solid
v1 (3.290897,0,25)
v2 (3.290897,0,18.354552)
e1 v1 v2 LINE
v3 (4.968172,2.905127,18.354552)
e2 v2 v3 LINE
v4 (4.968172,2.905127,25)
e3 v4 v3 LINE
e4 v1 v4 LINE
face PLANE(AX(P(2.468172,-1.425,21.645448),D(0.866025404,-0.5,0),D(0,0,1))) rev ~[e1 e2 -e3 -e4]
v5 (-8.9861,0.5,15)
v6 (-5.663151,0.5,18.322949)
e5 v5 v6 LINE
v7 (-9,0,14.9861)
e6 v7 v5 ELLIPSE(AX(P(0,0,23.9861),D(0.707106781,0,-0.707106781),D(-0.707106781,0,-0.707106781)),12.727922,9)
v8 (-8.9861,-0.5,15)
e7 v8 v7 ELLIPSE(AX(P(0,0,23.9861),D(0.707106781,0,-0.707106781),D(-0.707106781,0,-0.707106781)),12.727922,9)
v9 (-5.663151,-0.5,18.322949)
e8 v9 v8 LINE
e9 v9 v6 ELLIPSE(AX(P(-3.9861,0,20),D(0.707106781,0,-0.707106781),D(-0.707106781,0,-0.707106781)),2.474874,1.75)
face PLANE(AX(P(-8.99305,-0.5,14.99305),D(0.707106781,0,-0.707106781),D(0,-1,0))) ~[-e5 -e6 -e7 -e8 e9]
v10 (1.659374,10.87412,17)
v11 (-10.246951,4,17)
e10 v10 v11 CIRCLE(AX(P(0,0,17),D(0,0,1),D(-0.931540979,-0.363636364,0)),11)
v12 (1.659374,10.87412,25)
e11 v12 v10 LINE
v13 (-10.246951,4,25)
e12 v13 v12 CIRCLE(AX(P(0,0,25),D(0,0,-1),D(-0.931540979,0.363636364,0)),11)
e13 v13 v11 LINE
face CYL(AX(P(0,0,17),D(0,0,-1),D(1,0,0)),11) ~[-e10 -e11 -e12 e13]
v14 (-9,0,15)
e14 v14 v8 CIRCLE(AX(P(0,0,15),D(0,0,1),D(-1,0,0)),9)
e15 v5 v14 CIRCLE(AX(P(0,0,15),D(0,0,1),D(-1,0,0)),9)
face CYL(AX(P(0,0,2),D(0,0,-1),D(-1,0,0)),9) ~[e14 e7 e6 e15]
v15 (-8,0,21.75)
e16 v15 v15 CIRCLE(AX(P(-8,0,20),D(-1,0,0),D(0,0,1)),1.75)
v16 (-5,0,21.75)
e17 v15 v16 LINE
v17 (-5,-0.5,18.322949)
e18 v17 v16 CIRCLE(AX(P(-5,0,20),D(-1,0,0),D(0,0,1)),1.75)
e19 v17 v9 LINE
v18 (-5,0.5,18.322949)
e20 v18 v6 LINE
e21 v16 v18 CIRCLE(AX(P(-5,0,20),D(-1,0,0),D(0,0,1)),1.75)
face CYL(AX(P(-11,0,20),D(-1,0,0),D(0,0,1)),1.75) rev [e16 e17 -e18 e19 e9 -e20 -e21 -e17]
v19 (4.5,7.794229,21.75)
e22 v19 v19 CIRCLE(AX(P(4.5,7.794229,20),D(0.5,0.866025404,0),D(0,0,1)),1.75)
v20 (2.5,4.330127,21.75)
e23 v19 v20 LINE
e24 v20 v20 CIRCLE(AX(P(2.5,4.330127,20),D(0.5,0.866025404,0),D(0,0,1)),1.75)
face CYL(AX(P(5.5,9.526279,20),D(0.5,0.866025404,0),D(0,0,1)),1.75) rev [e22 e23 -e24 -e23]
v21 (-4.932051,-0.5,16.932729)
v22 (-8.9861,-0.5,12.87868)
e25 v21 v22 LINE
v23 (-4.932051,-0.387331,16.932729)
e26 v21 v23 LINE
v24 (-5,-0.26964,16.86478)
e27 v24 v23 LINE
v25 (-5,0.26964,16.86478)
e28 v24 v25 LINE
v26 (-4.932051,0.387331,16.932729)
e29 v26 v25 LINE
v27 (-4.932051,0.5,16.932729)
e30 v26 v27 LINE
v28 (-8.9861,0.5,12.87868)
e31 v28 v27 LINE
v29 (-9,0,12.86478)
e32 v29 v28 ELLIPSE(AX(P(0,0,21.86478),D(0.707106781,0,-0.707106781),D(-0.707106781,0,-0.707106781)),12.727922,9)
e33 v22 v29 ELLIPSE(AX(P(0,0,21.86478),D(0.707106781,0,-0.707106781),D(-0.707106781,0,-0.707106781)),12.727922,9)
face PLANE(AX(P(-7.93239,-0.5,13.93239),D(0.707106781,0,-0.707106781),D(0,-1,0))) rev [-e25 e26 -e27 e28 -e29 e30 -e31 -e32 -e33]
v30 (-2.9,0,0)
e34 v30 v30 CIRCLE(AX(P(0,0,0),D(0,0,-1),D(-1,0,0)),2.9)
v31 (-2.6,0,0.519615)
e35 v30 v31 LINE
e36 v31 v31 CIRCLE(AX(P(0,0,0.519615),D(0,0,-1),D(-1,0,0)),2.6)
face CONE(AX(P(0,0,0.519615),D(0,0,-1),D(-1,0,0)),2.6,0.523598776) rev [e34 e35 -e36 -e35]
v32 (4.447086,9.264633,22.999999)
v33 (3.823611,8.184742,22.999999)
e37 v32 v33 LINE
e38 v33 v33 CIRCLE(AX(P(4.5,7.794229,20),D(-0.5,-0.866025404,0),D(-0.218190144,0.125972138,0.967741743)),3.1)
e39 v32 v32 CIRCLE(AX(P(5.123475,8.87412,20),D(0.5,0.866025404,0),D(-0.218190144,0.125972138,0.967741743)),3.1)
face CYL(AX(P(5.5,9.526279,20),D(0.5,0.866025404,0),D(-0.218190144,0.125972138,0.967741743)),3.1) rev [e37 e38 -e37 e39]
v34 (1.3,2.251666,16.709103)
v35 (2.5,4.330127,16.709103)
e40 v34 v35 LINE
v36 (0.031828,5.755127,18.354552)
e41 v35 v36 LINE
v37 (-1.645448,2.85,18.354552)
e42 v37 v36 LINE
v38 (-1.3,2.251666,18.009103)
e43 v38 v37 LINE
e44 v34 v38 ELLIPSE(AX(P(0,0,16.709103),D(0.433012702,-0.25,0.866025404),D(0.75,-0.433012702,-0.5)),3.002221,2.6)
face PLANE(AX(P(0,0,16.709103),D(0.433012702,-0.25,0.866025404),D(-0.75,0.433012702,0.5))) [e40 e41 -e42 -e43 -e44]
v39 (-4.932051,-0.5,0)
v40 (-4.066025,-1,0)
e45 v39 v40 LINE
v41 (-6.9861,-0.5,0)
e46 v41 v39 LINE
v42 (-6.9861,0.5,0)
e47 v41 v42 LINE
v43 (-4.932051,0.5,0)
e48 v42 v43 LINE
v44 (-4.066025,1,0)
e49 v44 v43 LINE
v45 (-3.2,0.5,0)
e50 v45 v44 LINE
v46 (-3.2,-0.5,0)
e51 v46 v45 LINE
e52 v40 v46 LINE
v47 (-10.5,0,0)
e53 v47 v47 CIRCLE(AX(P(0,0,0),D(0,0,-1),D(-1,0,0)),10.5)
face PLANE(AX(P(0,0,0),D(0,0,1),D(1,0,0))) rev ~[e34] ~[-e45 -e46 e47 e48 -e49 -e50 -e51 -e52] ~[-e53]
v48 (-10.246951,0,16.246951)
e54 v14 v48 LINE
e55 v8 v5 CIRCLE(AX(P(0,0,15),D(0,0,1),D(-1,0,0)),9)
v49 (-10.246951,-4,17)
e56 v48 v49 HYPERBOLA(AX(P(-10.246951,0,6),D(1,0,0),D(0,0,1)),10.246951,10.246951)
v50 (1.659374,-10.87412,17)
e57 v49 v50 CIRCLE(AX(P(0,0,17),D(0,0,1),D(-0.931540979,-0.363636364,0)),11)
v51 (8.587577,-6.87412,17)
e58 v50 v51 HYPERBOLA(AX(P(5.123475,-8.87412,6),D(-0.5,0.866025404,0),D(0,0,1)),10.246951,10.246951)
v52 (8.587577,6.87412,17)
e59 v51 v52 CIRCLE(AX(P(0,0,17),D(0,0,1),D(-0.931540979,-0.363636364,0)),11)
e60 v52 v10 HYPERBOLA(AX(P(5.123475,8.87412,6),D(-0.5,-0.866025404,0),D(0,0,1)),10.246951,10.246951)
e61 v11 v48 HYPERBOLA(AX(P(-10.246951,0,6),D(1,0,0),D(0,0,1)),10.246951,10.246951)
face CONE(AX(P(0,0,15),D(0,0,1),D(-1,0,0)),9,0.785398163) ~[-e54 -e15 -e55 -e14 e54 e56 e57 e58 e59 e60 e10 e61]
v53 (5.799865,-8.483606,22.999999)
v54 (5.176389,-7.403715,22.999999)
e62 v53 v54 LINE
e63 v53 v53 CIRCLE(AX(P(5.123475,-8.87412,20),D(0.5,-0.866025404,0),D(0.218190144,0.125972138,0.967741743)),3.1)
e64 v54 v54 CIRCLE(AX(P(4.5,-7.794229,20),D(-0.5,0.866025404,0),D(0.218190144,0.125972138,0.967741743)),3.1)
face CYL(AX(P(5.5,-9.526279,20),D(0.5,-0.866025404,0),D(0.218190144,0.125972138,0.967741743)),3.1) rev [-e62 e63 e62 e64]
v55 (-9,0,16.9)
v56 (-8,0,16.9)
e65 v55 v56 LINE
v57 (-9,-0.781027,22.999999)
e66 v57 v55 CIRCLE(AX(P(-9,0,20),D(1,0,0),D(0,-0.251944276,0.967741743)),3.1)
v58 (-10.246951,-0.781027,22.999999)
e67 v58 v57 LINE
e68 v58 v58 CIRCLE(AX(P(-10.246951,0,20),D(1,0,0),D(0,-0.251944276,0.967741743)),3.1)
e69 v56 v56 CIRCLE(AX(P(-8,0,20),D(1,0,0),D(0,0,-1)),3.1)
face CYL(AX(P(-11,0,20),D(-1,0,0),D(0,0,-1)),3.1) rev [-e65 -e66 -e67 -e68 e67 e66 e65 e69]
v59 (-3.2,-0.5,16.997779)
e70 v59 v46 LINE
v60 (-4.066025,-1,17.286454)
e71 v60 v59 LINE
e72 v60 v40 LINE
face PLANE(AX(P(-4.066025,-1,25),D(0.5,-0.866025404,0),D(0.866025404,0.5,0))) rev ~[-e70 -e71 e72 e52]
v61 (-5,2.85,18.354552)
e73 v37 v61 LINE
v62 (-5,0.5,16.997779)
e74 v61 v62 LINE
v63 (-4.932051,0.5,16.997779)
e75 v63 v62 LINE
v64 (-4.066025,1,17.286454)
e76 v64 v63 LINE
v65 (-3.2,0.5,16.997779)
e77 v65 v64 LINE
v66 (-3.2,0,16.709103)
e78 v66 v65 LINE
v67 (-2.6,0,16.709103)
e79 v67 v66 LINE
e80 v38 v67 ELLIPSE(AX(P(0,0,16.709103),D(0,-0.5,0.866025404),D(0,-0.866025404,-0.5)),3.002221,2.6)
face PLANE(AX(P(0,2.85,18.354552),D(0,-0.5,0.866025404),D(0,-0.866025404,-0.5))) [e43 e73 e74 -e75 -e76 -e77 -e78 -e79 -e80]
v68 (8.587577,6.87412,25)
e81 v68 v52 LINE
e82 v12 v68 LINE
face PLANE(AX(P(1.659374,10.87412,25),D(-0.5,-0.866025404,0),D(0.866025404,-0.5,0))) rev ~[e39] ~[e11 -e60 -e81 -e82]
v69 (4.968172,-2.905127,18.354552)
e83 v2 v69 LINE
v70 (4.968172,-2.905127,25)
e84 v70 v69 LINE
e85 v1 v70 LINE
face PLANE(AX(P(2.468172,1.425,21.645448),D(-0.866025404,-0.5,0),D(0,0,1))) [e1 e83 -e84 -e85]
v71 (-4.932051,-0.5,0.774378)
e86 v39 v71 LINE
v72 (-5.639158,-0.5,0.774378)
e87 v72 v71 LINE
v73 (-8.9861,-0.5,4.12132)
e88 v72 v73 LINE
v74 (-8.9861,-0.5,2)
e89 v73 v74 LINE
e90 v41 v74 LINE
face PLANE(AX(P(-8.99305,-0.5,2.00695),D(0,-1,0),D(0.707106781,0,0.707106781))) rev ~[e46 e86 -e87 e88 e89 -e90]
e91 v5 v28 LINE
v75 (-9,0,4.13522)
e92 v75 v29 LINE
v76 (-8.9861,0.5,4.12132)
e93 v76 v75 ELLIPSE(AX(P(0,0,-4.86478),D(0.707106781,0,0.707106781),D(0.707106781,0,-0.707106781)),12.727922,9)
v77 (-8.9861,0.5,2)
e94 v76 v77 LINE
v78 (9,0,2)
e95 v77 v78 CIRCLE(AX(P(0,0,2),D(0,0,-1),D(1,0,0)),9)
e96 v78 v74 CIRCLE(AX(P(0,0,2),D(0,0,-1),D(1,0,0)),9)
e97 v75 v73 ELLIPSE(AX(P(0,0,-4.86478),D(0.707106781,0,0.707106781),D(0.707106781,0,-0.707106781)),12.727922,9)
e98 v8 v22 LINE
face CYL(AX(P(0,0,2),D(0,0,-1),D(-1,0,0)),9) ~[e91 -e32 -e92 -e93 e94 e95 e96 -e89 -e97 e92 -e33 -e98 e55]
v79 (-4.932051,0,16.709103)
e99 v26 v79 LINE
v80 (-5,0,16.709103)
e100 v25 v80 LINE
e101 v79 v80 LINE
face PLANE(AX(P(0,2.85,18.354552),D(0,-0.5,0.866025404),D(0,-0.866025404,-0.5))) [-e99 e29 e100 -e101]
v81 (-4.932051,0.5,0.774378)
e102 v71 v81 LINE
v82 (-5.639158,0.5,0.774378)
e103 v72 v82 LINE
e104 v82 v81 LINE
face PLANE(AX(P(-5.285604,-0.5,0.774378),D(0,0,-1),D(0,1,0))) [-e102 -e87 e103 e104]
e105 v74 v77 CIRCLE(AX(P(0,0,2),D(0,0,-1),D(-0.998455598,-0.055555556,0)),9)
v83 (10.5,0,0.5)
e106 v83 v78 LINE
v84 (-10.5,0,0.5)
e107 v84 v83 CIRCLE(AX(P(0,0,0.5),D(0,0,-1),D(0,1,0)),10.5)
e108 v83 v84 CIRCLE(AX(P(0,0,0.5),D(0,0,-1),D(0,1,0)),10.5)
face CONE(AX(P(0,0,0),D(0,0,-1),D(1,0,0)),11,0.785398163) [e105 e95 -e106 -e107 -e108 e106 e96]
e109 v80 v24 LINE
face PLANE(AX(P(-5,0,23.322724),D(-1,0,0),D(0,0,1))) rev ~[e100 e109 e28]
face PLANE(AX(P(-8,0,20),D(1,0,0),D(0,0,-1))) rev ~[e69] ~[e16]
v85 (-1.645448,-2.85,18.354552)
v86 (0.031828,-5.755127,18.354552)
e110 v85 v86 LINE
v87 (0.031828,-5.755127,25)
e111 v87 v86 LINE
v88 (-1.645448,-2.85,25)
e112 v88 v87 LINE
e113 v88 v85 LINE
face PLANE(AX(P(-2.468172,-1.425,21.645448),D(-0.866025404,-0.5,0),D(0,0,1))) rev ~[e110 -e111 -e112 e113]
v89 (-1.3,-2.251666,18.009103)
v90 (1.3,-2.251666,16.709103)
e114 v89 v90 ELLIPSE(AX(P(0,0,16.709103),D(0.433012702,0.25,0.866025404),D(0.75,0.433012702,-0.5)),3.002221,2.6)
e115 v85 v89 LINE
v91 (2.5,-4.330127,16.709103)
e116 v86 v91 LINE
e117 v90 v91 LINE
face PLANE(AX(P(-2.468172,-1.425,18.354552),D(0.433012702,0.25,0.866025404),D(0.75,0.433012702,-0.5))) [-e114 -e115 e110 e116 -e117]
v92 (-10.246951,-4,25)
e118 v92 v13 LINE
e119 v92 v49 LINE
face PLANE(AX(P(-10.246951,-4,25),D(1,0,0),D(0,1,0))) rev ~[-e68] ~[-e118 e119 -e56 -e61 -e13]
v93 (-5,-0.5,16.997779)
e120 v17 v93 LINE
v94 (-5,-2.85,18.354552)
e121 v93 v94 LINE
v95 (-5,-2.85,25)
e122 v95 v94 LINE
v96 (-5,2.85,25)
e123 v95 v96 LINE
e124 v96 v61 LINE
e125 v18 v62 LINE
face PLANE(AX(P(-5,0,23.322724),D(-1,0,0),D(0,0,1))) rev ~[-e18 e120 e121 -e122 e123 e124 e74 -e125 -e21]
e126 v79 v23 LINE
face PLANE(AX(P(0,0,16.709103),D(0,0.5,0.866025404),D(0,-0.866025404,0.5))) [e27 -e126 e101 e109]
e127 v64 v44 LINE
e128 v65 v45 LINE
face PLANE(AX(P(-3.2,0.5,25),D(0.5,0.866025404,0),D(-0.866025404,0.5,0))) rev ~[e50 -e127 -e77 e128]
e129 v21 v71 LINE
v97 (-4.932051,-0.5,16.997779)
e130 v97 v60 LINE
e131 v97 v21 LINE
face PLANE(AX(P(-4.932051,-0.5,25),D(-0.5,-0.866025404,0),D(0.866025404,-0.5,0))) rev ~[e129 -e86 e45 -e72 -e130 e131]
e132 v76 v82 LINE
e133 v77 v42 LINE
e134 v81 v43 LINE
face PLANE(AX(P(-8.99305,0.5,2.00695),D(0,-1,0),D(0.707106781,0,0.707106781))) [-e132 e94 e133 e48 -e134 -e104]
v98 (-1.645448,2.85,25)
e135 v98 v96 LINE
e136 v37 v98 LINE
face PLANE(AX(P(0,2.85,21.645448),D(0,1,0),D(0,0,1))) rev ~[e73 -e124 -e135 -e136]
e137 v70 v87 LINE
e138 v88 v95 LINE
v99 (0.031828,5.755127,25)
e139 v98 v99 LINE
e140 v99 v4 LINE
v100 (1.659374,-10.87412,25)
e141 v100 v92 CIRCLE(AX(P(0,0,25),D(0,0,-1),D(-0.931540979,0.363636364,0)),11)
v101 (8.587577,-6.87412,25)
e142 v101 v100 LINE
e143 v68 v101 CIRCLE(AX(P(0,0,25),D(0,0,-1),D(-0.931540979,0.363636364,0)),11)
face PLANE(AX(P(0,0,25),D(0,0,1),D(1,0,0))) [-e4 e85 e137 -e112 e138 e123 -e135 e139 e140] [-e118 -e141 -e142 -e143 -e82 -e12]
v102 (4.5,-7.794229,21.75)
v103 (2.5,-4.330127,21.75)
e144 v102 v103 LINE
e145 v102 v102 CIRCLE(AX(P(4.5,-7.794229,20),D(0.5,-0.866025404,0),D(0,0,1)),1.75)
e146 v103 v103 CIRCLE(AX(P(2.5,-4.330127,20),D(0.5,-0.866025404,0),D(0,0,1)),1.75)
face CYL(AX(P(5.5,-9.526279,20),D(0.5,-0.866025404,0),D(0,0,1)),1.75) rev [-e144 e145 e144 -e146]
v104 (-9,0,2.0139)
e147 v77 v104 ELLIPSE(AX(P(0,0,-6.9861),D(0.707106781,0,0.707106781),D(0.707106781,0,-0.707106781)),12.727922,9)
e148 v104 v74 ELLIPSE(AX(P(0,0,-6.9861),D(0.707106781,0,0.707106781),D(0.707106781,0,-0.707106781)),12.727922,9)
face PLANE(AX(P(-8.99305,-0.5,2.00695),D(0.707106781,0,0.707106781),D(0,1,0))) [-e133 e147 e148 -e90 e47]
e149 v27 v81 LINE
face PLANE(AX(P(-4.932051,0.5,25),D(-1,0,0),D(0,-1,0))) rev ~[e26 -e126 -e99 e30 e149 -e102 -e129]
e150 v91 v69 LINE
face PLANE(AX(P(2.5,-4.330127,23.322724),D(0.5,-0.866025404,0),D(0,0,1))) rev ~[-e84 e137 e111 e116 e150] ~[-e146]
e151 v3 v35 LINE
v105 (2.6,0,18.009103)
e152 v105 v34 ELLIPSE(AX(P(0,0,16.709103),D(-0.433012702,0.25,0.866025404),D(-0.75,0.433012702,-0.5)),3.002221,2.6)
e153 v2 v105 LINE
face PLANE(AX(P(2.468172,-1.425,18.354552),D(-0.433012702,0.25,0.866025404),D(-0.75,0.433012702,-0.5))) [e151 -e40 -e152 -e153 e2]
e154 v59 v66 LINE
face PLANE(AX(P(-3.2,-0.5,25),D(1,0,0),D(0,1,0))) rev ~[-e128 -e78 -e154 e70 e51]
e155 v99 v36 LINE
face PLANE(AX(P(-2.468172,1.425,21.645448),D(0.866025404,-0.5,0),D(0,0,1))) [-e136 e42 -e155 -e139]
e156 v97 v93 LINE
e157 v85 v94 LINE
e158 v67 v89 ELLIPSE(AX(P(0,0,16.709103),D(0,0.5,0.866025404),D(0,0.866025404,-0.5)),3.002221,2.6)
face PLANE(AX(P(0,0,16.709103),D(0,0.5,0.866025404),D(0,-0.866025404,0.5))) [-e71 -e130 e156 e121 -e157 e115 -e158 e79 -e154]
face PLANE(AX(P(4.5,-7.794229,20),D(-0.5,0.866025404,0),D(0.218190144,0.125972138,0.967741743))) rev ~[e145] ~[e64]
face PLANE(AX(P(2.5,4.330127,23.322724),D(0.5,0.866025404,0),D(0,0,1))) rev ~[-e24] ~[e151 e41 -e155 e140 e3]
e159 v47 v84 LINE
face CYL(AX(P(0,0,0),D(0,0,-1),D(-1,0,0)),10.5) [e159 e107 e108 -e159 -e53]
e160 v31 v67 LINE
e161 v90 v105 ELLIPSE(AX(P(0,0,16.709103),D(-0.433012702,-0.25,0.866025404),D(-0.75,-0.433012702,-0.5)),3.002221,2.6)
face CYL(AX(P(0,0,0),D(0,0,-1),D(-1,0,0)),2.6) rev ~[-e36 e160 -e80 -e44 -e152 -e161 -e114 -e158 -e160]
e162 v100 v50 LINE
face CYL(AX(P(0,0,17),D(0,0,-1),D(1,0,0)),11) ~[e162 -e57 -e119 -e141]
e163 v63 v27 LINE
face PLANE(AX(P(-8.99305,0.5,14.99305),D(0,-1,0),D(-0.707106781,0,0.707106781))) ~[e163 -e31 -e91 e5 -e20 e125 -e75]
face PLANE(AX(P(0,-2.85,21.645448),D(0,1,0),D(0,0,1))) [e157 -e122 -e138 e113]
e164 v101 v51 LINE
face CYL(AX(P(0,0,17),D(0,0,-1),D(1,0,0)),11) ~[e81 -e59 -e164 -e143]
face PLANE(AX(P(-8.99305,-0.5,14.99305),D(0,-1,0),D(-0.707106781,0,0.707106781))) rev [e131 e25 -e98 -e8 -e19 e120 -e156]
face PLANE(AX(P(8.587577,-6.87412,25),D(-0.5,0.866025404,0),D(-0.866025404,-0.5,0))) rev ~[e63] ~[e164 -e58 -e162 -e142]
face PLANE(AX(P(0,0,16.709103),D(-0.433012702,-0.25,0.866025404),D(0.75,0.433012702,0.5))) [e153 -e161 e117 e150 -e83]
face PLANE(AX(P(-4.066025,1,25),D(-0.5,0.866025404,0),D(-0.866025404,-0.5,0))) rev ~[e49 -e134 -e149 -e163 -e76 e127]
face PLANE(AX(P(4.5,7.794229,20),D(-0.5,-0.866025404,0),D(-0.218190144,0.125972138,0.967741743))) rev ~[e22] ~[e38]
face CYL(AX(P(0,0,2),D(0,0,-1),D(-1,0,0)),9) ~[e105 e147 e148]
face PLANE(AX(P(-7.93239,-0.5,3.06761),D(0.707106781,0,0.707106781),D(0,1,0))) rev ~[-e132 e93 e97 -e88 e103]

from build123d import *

# Parameters (mm, degrees)
SKETCH1_R                     = 11
BOSS_BASE_FLANGE_DEPTH        = 2
BOSS_BASE_FLANGE_TAPER        = 45
SKETCH2_R                     = 9
BOSS_SPECTRA_SPOOL_DEPTH      = 13
SKETCH3_R                     = 9
BOSS_TOP_FLANGE_DEPTH         = 2
BOSS_TOP_FLANGE_DRAFT         = -45
SKETCH4_R                     = 11
BOSS_TOP_EXTENSION_DEPTH      = 8
SKETCH5_R                     = 2.6
CUT_STEPPER_SHAFT_DEPTH       = 30.444863729
CUT_SET_SCREW_HOLE_REACH      = 37.071
CUT_SET_SCREW_HOLE_END_RADIUS = 2.6
SKETCH7_R                     = 1.75
SKETCH8_R                     = 3.1
CUT_SCREW_HEAD_SLOT_DEPTH     = 2
CUT_FLATEN_REACH              = 31.445
SKETCH6_W                     = 0.753049234
SKETCH6_H                     = 8
CUT_NUT_HOLE_DEPTH            = 5
SKETCH11_W                    = 3.354551733
SKETCH11_H                    = 5.7
CUT_NUT_SLOT_DEPTH            = 5
CIRPATTERN1_COUNT             = 3
CUT_THREAD_HOLE_DEPTH         = 30.444863729
SKETCH15_W                    = 1.5
SKETCH15_H                    = 1
CUT_EXTRUDE8_DEPTH            = 28.81186797
CHAMFER1_SIZE                 = 1
CHAMFER1_SIZE2                = 0.707106781
CHAMFER3_SIZE                 = 0.3
CHAMFER3_SIZE2                = 0.519615242
SKETCH16_OUTSIDE_W            = 31.982
SKETCH16_OUTSIDE_H            = 31.982
SKETCH16_OUTSIDE_R            = 10.5
CUT_TRUNCATE_BASE_DEPTH       = 5
SKETCH8_2_R                   = 3.1
CUT_EXTRUDE9_DEPTH            = 3


with BuildPart() as part:
    # Sketch1 → Boss-Base Flange (new body)
    with BuildSketch(Plane.XY):
        Circle(SKETCH1_R)
    extrude(amount=BOSS_BASE_FLANGE_DEPTH, taper=BOSS_BASE_FLANGE_TAPER)

    # Sketch2 → Boss-Spectra Spool (add)
    with BuildSketch(Plane.XY.offset(2)):
        with Locations(Location((0, 0, 0), (0, 0, 180))):
            Circle(SKETCH2_R)
    extrude(amount=BOSS_SPECTRA_SPOOL_DEPTH)


with BuildPart() as boss_top_flange_tool:
    # Sketch3 → Boss-Top Flange (with draft: the straight prism first)
    with BuildSketch(Plane.XY.offset(15)):
        with Locations(Location((0, 0, 0), (0, 0, 180))):
            Circle(SKETCH3_R)
    extrude(amount=BOSS_TOP_FLANGE_DEPTH)
    # Boss-Top Flange: the draft: its side faces are tilted about the plane it starts from
    boss_top_flange_sides = [boss_top_flange_tool.faces().sort_by_distance(p)[0] for p in [
        (9, 0, 16),
    ]]
    draft(boss_top_flange_sides, Plane.XY.offset(15), BOSS_TOP_FLANGE_DRAFT)


with BuildPart() as part_1:
    add(part.part)

    # Boss-Top Flange: add boss_top_flange_tool
    add(boss_top_flange_tool.part)

    # Sketch4 → Boss-Top Extension (add)
    with BuildSketch(Plane.XY.offset(17)):
        Circle(SKETCH4_R)
    extrude(amount=BOSS_TOP_EXTENSION_DEPTH)

    # Sketch5 → Cut-Stepper Shaft (cut, through all)
    with BuildSketch(Plane(origin=(0, 0, 0), x_dir=(-1, 0, 0), z_dir=(0, 0, -1))):
        Circle(SKETCH5_R)
    extrude(amount=-CUT_STEPPER_SHAFT_DEPTH, mode=Mode.SUBTRACT)

    # Cut-Set Screw Hole: up to this cylinder (the profile starts outside it)
    cut_set_screw_hole_end = Plane(origin=(0, 0, 20), z_dir=(0, 0, -1)) * Cylinder(CUT_SET_SCREW_HOLE_END_RADIUS, 80.342, mode=Mode.PRIVATE)
    # Sketch7 → Cut-Set Screw Hole (cut, up to the surface)
    with BuildSketch(Plane(origin=(-11, 0, 0), x_dir=(0, 0, -1), z_dir=(1, 0, 0)), mode=Mode.PRIVATE) as cut_set_screw_hole_sk1:
        with Locations(Location((-20, 0, 0), (0, 0, 180))):
            Circle(SKETCH7_R)
    cut_set_screw_hole_tool1 = extrude(cut_set_screw_hole_sk1.sketch, amount=CUT_SET_SCREW_HOLE_REACH, mode=Mode.PRIVATE) - cut_set_screw_hole_end
    cut_set_screw_hole = cut_set_screw_hole_tool1.solids().sort_by_distance((-11, 0, 20))[0]
    add(cut_set_screw_hole, mode=Mode.SUBTRACT)

    # Sketch8 → Cut-Screw Head Slot (cut)
    with BuildSketch(Plane(origin=(-11, 0, 0), x_dir=(0, 0, -1), z_dir=(1, 0, 0))):
        with Locations(Location((-20, 0, 0), (0, 0, 194.592594316))):
            Circle(SKETCH8_R)
    cut_screw_head_slot = extrude(amount=CUT_SCREW_HEAD_SLOT_DEPTH, mode=Mode.SUBTRACT)

    # Cut-Flaten: up to this cone (the profile starts inside it)
    cut_flaten_end = Plane(origin=(0, 0, 25), z_dir=(0, 0, 1)).offset(-18.999999) * Cone(1e-06, 69.945, 69.944999, align=(Align.CENTER, Align.CENTER, Align.MIN), mode=Mode.PRIVATE)
    # Sketch6 → Cut-Flaten (cut, up to the surface)
    with BuildSketch(Plane.XY.offset(25), mode=Mode.PRIVATE) as cut_flaten_sk1:
        with Locations((-10.623475383, 0)):
            Rectangle(SKETCH6_W, SKETCH6_H)
    cut_flaten_tool1 = extrude(cut_flaten_sk1.sketch, amount=-CUT_FLATEN_REACH, mode=Mode.PRIVATE) & cut_flaten_end
    cut_flaten = cut_flaten_tool1.solids().sort_by_distance((-10.623475, 0, 25))[0]
    add(cut_flaten, mode=Mode.SUBTRACT)

    # Sketch10 → Cut-Nut Hole (cut)
    with BuildSketch(Plane.ZY):
        Polygon((23.290896534, 0), (21.645448267, 2.85), (18.354551733, 2.85), (16.709103466, 0), (18.354551733, -2.85), (21.645448267, -2.85), align=None)
    cut_nut_hole = extrude(amount=CUT_NUT_HOLE_DEPTH, mode=Mode.SUBTRACT)

    # Sketch11 → Cut-Nut Slot (cut)
    with BuildSketch(Plane.ZY):
        with Locations((23.322724134, 0)):
            Rectangle(SKETCH11_W, SKETCH11_H)
    cut_nut_slot = extrude(amount=CUT_NUT_SLOT_DEPTH, mode=Mode.SUBTRACT)

    # CirPattern1: Cut-Set Screw Hole, Cut-Screw Head Slot, Cut-Flaten, Cut-Nut Hole, Cut-Nut Slot ×3 about axis
    cirpattern1_axis = Axis((0, 0, 0), (0, 0, 1))
    add([cut_set_screw_hole.rotate(cirpattern1_axis, i * 360 / CIRPATTERN1_COUNT) for i in range(1, CIRPATTERN1_COUNT)], mode=Mode.SUBTRACT)
    add([cut_screw_head_slot.rotate(cirpattern1_axis, i * 360 / CIRPATTERN1_COUNT) for i in range(1, CIRPATTERN1_COUNT)], mode=Mode.SUBTRACT)
    add([cut_flaten.rotate(cirpattern1_axis, i * 360 / CIRPATTERN1_COUNT) for i in range(1, CIRPATTERN1_COUNT)], mode=Mode.SUBTRACT)
    add([cut_nut_hole.rotate(cirpattern1_axis, i * 360 / CIRPATTERN1_COUNT) for i in range(1, CIRPATTERN1_COUNT)], mode=Mode.SUBTRACT)
    add([cut_nut_slot.rotate(cirpattern1_axis, i * 360 / CIRPATTERN1_COUNT) for i in range(1, CIRPATTERN1_COUNT)], mode=Mode.SUBTRACT)

    # Sketch13 → Cut-Thread Hole (cut, through all)
    with BuildSketch(Plane.XY.offset(25)):
        Polygon((-4.066025404, 1), (-4.932050808, 0.5), (-4.932050808, -0.5), (-4.066025404, -1), (-3.2, -0.5), (-3.2, 0.5), align=None)
    extrude(amount=-CUT_THREAD_HOLE_DEPTH, mode=Mode.SUBTRACT)

    # Sketch15 → Cut-Extrude8 (cut, symmetric)
    with BuildSketch(Plane(origin=(-5.5, 0, 5.5), x_dir=(0.7071067811865464, 0, 0.7071067811865488), z_dir=(-0.7071067811865488, 0, 0.7071067811865464))):
        with Locations((-4.189918951, 0)):
            Rectangle(SKETCH15_W, SKETCH15_H)
    cut_extrude8 = extrude(amount=CUT_EXTRUDE8_DEPTH, both=True, mode=Mode.SUBTRACT)

    # Chamfer1
    chamfer1_edges = [part_1.edges().sort_by_distance(p)[0] for p in [
        (-4.932050808, 0, 0.067270773),
    ]]
    chamfer1_side = [part_1.faces().sort_by_distance(p)[0] for p in [
        (-6.963711629, 0, 2.098931595),
    ]]
    chamfer(chamfer1_edges, length=CHAMFER1_SIZE, length2=CHAMFER1_SIZE2, reference=chamfer1_side[0])

    # Mirror1: Cut-Extrude8 across plane
    add(cut_extrude8.mirror(Plane.XY.offset(8.5)), mode=Mode.SUBTRACT)

    # Chamfer3
    chamfer3_edges = [part_1.edges().sort_by_distance(p)[0] for p in [
        (2.6, 0, 0),
    ]]
    chamfer3_side = [part_1.faces().sort_by_distance(p)[0] for p in [
        (-10.688873016, 0, 0),
    ]]
    chamfer(chamfer3_edges, length=CHAMFER3_SIZE, length2=CHAMFER3_SIZE2, reference=chamfer3_side[0])

    # Sketch16 outside → Cut-Truncate Base (cut)
    with BuildSketch(Plane(origin=(0, 0, 0), x_dir=(-1, 0, 0), z_dir=(0, 0, -1))):
        Rectangle(SKETCH16_OUTSIDE_W, SKETCH16_OUTSIDE_H)
        Circle(SKETCH16_OUTSIDE_R, mode=Mode.SUBTRACT)
    extrude(amount=-CUT_TRUNCATE_BASE_DEPTH, mode=Mode.SUBTRACT)

    # Sketch8<2> → Cut-Extrude9 (cut)
    with BuildSketch(Plane(origin=(-11, 0, 0), x_dir=(0, 0, -1), z_dir=(1, 0, 0))):
        with Locations((-20, 0)):
            Circle(SKETCH8_2_R)
    extrude(amount=CUT_EXTRUDE9_DEPTH, mode=Mode.SUBTRACT)


solid = part_1.part
